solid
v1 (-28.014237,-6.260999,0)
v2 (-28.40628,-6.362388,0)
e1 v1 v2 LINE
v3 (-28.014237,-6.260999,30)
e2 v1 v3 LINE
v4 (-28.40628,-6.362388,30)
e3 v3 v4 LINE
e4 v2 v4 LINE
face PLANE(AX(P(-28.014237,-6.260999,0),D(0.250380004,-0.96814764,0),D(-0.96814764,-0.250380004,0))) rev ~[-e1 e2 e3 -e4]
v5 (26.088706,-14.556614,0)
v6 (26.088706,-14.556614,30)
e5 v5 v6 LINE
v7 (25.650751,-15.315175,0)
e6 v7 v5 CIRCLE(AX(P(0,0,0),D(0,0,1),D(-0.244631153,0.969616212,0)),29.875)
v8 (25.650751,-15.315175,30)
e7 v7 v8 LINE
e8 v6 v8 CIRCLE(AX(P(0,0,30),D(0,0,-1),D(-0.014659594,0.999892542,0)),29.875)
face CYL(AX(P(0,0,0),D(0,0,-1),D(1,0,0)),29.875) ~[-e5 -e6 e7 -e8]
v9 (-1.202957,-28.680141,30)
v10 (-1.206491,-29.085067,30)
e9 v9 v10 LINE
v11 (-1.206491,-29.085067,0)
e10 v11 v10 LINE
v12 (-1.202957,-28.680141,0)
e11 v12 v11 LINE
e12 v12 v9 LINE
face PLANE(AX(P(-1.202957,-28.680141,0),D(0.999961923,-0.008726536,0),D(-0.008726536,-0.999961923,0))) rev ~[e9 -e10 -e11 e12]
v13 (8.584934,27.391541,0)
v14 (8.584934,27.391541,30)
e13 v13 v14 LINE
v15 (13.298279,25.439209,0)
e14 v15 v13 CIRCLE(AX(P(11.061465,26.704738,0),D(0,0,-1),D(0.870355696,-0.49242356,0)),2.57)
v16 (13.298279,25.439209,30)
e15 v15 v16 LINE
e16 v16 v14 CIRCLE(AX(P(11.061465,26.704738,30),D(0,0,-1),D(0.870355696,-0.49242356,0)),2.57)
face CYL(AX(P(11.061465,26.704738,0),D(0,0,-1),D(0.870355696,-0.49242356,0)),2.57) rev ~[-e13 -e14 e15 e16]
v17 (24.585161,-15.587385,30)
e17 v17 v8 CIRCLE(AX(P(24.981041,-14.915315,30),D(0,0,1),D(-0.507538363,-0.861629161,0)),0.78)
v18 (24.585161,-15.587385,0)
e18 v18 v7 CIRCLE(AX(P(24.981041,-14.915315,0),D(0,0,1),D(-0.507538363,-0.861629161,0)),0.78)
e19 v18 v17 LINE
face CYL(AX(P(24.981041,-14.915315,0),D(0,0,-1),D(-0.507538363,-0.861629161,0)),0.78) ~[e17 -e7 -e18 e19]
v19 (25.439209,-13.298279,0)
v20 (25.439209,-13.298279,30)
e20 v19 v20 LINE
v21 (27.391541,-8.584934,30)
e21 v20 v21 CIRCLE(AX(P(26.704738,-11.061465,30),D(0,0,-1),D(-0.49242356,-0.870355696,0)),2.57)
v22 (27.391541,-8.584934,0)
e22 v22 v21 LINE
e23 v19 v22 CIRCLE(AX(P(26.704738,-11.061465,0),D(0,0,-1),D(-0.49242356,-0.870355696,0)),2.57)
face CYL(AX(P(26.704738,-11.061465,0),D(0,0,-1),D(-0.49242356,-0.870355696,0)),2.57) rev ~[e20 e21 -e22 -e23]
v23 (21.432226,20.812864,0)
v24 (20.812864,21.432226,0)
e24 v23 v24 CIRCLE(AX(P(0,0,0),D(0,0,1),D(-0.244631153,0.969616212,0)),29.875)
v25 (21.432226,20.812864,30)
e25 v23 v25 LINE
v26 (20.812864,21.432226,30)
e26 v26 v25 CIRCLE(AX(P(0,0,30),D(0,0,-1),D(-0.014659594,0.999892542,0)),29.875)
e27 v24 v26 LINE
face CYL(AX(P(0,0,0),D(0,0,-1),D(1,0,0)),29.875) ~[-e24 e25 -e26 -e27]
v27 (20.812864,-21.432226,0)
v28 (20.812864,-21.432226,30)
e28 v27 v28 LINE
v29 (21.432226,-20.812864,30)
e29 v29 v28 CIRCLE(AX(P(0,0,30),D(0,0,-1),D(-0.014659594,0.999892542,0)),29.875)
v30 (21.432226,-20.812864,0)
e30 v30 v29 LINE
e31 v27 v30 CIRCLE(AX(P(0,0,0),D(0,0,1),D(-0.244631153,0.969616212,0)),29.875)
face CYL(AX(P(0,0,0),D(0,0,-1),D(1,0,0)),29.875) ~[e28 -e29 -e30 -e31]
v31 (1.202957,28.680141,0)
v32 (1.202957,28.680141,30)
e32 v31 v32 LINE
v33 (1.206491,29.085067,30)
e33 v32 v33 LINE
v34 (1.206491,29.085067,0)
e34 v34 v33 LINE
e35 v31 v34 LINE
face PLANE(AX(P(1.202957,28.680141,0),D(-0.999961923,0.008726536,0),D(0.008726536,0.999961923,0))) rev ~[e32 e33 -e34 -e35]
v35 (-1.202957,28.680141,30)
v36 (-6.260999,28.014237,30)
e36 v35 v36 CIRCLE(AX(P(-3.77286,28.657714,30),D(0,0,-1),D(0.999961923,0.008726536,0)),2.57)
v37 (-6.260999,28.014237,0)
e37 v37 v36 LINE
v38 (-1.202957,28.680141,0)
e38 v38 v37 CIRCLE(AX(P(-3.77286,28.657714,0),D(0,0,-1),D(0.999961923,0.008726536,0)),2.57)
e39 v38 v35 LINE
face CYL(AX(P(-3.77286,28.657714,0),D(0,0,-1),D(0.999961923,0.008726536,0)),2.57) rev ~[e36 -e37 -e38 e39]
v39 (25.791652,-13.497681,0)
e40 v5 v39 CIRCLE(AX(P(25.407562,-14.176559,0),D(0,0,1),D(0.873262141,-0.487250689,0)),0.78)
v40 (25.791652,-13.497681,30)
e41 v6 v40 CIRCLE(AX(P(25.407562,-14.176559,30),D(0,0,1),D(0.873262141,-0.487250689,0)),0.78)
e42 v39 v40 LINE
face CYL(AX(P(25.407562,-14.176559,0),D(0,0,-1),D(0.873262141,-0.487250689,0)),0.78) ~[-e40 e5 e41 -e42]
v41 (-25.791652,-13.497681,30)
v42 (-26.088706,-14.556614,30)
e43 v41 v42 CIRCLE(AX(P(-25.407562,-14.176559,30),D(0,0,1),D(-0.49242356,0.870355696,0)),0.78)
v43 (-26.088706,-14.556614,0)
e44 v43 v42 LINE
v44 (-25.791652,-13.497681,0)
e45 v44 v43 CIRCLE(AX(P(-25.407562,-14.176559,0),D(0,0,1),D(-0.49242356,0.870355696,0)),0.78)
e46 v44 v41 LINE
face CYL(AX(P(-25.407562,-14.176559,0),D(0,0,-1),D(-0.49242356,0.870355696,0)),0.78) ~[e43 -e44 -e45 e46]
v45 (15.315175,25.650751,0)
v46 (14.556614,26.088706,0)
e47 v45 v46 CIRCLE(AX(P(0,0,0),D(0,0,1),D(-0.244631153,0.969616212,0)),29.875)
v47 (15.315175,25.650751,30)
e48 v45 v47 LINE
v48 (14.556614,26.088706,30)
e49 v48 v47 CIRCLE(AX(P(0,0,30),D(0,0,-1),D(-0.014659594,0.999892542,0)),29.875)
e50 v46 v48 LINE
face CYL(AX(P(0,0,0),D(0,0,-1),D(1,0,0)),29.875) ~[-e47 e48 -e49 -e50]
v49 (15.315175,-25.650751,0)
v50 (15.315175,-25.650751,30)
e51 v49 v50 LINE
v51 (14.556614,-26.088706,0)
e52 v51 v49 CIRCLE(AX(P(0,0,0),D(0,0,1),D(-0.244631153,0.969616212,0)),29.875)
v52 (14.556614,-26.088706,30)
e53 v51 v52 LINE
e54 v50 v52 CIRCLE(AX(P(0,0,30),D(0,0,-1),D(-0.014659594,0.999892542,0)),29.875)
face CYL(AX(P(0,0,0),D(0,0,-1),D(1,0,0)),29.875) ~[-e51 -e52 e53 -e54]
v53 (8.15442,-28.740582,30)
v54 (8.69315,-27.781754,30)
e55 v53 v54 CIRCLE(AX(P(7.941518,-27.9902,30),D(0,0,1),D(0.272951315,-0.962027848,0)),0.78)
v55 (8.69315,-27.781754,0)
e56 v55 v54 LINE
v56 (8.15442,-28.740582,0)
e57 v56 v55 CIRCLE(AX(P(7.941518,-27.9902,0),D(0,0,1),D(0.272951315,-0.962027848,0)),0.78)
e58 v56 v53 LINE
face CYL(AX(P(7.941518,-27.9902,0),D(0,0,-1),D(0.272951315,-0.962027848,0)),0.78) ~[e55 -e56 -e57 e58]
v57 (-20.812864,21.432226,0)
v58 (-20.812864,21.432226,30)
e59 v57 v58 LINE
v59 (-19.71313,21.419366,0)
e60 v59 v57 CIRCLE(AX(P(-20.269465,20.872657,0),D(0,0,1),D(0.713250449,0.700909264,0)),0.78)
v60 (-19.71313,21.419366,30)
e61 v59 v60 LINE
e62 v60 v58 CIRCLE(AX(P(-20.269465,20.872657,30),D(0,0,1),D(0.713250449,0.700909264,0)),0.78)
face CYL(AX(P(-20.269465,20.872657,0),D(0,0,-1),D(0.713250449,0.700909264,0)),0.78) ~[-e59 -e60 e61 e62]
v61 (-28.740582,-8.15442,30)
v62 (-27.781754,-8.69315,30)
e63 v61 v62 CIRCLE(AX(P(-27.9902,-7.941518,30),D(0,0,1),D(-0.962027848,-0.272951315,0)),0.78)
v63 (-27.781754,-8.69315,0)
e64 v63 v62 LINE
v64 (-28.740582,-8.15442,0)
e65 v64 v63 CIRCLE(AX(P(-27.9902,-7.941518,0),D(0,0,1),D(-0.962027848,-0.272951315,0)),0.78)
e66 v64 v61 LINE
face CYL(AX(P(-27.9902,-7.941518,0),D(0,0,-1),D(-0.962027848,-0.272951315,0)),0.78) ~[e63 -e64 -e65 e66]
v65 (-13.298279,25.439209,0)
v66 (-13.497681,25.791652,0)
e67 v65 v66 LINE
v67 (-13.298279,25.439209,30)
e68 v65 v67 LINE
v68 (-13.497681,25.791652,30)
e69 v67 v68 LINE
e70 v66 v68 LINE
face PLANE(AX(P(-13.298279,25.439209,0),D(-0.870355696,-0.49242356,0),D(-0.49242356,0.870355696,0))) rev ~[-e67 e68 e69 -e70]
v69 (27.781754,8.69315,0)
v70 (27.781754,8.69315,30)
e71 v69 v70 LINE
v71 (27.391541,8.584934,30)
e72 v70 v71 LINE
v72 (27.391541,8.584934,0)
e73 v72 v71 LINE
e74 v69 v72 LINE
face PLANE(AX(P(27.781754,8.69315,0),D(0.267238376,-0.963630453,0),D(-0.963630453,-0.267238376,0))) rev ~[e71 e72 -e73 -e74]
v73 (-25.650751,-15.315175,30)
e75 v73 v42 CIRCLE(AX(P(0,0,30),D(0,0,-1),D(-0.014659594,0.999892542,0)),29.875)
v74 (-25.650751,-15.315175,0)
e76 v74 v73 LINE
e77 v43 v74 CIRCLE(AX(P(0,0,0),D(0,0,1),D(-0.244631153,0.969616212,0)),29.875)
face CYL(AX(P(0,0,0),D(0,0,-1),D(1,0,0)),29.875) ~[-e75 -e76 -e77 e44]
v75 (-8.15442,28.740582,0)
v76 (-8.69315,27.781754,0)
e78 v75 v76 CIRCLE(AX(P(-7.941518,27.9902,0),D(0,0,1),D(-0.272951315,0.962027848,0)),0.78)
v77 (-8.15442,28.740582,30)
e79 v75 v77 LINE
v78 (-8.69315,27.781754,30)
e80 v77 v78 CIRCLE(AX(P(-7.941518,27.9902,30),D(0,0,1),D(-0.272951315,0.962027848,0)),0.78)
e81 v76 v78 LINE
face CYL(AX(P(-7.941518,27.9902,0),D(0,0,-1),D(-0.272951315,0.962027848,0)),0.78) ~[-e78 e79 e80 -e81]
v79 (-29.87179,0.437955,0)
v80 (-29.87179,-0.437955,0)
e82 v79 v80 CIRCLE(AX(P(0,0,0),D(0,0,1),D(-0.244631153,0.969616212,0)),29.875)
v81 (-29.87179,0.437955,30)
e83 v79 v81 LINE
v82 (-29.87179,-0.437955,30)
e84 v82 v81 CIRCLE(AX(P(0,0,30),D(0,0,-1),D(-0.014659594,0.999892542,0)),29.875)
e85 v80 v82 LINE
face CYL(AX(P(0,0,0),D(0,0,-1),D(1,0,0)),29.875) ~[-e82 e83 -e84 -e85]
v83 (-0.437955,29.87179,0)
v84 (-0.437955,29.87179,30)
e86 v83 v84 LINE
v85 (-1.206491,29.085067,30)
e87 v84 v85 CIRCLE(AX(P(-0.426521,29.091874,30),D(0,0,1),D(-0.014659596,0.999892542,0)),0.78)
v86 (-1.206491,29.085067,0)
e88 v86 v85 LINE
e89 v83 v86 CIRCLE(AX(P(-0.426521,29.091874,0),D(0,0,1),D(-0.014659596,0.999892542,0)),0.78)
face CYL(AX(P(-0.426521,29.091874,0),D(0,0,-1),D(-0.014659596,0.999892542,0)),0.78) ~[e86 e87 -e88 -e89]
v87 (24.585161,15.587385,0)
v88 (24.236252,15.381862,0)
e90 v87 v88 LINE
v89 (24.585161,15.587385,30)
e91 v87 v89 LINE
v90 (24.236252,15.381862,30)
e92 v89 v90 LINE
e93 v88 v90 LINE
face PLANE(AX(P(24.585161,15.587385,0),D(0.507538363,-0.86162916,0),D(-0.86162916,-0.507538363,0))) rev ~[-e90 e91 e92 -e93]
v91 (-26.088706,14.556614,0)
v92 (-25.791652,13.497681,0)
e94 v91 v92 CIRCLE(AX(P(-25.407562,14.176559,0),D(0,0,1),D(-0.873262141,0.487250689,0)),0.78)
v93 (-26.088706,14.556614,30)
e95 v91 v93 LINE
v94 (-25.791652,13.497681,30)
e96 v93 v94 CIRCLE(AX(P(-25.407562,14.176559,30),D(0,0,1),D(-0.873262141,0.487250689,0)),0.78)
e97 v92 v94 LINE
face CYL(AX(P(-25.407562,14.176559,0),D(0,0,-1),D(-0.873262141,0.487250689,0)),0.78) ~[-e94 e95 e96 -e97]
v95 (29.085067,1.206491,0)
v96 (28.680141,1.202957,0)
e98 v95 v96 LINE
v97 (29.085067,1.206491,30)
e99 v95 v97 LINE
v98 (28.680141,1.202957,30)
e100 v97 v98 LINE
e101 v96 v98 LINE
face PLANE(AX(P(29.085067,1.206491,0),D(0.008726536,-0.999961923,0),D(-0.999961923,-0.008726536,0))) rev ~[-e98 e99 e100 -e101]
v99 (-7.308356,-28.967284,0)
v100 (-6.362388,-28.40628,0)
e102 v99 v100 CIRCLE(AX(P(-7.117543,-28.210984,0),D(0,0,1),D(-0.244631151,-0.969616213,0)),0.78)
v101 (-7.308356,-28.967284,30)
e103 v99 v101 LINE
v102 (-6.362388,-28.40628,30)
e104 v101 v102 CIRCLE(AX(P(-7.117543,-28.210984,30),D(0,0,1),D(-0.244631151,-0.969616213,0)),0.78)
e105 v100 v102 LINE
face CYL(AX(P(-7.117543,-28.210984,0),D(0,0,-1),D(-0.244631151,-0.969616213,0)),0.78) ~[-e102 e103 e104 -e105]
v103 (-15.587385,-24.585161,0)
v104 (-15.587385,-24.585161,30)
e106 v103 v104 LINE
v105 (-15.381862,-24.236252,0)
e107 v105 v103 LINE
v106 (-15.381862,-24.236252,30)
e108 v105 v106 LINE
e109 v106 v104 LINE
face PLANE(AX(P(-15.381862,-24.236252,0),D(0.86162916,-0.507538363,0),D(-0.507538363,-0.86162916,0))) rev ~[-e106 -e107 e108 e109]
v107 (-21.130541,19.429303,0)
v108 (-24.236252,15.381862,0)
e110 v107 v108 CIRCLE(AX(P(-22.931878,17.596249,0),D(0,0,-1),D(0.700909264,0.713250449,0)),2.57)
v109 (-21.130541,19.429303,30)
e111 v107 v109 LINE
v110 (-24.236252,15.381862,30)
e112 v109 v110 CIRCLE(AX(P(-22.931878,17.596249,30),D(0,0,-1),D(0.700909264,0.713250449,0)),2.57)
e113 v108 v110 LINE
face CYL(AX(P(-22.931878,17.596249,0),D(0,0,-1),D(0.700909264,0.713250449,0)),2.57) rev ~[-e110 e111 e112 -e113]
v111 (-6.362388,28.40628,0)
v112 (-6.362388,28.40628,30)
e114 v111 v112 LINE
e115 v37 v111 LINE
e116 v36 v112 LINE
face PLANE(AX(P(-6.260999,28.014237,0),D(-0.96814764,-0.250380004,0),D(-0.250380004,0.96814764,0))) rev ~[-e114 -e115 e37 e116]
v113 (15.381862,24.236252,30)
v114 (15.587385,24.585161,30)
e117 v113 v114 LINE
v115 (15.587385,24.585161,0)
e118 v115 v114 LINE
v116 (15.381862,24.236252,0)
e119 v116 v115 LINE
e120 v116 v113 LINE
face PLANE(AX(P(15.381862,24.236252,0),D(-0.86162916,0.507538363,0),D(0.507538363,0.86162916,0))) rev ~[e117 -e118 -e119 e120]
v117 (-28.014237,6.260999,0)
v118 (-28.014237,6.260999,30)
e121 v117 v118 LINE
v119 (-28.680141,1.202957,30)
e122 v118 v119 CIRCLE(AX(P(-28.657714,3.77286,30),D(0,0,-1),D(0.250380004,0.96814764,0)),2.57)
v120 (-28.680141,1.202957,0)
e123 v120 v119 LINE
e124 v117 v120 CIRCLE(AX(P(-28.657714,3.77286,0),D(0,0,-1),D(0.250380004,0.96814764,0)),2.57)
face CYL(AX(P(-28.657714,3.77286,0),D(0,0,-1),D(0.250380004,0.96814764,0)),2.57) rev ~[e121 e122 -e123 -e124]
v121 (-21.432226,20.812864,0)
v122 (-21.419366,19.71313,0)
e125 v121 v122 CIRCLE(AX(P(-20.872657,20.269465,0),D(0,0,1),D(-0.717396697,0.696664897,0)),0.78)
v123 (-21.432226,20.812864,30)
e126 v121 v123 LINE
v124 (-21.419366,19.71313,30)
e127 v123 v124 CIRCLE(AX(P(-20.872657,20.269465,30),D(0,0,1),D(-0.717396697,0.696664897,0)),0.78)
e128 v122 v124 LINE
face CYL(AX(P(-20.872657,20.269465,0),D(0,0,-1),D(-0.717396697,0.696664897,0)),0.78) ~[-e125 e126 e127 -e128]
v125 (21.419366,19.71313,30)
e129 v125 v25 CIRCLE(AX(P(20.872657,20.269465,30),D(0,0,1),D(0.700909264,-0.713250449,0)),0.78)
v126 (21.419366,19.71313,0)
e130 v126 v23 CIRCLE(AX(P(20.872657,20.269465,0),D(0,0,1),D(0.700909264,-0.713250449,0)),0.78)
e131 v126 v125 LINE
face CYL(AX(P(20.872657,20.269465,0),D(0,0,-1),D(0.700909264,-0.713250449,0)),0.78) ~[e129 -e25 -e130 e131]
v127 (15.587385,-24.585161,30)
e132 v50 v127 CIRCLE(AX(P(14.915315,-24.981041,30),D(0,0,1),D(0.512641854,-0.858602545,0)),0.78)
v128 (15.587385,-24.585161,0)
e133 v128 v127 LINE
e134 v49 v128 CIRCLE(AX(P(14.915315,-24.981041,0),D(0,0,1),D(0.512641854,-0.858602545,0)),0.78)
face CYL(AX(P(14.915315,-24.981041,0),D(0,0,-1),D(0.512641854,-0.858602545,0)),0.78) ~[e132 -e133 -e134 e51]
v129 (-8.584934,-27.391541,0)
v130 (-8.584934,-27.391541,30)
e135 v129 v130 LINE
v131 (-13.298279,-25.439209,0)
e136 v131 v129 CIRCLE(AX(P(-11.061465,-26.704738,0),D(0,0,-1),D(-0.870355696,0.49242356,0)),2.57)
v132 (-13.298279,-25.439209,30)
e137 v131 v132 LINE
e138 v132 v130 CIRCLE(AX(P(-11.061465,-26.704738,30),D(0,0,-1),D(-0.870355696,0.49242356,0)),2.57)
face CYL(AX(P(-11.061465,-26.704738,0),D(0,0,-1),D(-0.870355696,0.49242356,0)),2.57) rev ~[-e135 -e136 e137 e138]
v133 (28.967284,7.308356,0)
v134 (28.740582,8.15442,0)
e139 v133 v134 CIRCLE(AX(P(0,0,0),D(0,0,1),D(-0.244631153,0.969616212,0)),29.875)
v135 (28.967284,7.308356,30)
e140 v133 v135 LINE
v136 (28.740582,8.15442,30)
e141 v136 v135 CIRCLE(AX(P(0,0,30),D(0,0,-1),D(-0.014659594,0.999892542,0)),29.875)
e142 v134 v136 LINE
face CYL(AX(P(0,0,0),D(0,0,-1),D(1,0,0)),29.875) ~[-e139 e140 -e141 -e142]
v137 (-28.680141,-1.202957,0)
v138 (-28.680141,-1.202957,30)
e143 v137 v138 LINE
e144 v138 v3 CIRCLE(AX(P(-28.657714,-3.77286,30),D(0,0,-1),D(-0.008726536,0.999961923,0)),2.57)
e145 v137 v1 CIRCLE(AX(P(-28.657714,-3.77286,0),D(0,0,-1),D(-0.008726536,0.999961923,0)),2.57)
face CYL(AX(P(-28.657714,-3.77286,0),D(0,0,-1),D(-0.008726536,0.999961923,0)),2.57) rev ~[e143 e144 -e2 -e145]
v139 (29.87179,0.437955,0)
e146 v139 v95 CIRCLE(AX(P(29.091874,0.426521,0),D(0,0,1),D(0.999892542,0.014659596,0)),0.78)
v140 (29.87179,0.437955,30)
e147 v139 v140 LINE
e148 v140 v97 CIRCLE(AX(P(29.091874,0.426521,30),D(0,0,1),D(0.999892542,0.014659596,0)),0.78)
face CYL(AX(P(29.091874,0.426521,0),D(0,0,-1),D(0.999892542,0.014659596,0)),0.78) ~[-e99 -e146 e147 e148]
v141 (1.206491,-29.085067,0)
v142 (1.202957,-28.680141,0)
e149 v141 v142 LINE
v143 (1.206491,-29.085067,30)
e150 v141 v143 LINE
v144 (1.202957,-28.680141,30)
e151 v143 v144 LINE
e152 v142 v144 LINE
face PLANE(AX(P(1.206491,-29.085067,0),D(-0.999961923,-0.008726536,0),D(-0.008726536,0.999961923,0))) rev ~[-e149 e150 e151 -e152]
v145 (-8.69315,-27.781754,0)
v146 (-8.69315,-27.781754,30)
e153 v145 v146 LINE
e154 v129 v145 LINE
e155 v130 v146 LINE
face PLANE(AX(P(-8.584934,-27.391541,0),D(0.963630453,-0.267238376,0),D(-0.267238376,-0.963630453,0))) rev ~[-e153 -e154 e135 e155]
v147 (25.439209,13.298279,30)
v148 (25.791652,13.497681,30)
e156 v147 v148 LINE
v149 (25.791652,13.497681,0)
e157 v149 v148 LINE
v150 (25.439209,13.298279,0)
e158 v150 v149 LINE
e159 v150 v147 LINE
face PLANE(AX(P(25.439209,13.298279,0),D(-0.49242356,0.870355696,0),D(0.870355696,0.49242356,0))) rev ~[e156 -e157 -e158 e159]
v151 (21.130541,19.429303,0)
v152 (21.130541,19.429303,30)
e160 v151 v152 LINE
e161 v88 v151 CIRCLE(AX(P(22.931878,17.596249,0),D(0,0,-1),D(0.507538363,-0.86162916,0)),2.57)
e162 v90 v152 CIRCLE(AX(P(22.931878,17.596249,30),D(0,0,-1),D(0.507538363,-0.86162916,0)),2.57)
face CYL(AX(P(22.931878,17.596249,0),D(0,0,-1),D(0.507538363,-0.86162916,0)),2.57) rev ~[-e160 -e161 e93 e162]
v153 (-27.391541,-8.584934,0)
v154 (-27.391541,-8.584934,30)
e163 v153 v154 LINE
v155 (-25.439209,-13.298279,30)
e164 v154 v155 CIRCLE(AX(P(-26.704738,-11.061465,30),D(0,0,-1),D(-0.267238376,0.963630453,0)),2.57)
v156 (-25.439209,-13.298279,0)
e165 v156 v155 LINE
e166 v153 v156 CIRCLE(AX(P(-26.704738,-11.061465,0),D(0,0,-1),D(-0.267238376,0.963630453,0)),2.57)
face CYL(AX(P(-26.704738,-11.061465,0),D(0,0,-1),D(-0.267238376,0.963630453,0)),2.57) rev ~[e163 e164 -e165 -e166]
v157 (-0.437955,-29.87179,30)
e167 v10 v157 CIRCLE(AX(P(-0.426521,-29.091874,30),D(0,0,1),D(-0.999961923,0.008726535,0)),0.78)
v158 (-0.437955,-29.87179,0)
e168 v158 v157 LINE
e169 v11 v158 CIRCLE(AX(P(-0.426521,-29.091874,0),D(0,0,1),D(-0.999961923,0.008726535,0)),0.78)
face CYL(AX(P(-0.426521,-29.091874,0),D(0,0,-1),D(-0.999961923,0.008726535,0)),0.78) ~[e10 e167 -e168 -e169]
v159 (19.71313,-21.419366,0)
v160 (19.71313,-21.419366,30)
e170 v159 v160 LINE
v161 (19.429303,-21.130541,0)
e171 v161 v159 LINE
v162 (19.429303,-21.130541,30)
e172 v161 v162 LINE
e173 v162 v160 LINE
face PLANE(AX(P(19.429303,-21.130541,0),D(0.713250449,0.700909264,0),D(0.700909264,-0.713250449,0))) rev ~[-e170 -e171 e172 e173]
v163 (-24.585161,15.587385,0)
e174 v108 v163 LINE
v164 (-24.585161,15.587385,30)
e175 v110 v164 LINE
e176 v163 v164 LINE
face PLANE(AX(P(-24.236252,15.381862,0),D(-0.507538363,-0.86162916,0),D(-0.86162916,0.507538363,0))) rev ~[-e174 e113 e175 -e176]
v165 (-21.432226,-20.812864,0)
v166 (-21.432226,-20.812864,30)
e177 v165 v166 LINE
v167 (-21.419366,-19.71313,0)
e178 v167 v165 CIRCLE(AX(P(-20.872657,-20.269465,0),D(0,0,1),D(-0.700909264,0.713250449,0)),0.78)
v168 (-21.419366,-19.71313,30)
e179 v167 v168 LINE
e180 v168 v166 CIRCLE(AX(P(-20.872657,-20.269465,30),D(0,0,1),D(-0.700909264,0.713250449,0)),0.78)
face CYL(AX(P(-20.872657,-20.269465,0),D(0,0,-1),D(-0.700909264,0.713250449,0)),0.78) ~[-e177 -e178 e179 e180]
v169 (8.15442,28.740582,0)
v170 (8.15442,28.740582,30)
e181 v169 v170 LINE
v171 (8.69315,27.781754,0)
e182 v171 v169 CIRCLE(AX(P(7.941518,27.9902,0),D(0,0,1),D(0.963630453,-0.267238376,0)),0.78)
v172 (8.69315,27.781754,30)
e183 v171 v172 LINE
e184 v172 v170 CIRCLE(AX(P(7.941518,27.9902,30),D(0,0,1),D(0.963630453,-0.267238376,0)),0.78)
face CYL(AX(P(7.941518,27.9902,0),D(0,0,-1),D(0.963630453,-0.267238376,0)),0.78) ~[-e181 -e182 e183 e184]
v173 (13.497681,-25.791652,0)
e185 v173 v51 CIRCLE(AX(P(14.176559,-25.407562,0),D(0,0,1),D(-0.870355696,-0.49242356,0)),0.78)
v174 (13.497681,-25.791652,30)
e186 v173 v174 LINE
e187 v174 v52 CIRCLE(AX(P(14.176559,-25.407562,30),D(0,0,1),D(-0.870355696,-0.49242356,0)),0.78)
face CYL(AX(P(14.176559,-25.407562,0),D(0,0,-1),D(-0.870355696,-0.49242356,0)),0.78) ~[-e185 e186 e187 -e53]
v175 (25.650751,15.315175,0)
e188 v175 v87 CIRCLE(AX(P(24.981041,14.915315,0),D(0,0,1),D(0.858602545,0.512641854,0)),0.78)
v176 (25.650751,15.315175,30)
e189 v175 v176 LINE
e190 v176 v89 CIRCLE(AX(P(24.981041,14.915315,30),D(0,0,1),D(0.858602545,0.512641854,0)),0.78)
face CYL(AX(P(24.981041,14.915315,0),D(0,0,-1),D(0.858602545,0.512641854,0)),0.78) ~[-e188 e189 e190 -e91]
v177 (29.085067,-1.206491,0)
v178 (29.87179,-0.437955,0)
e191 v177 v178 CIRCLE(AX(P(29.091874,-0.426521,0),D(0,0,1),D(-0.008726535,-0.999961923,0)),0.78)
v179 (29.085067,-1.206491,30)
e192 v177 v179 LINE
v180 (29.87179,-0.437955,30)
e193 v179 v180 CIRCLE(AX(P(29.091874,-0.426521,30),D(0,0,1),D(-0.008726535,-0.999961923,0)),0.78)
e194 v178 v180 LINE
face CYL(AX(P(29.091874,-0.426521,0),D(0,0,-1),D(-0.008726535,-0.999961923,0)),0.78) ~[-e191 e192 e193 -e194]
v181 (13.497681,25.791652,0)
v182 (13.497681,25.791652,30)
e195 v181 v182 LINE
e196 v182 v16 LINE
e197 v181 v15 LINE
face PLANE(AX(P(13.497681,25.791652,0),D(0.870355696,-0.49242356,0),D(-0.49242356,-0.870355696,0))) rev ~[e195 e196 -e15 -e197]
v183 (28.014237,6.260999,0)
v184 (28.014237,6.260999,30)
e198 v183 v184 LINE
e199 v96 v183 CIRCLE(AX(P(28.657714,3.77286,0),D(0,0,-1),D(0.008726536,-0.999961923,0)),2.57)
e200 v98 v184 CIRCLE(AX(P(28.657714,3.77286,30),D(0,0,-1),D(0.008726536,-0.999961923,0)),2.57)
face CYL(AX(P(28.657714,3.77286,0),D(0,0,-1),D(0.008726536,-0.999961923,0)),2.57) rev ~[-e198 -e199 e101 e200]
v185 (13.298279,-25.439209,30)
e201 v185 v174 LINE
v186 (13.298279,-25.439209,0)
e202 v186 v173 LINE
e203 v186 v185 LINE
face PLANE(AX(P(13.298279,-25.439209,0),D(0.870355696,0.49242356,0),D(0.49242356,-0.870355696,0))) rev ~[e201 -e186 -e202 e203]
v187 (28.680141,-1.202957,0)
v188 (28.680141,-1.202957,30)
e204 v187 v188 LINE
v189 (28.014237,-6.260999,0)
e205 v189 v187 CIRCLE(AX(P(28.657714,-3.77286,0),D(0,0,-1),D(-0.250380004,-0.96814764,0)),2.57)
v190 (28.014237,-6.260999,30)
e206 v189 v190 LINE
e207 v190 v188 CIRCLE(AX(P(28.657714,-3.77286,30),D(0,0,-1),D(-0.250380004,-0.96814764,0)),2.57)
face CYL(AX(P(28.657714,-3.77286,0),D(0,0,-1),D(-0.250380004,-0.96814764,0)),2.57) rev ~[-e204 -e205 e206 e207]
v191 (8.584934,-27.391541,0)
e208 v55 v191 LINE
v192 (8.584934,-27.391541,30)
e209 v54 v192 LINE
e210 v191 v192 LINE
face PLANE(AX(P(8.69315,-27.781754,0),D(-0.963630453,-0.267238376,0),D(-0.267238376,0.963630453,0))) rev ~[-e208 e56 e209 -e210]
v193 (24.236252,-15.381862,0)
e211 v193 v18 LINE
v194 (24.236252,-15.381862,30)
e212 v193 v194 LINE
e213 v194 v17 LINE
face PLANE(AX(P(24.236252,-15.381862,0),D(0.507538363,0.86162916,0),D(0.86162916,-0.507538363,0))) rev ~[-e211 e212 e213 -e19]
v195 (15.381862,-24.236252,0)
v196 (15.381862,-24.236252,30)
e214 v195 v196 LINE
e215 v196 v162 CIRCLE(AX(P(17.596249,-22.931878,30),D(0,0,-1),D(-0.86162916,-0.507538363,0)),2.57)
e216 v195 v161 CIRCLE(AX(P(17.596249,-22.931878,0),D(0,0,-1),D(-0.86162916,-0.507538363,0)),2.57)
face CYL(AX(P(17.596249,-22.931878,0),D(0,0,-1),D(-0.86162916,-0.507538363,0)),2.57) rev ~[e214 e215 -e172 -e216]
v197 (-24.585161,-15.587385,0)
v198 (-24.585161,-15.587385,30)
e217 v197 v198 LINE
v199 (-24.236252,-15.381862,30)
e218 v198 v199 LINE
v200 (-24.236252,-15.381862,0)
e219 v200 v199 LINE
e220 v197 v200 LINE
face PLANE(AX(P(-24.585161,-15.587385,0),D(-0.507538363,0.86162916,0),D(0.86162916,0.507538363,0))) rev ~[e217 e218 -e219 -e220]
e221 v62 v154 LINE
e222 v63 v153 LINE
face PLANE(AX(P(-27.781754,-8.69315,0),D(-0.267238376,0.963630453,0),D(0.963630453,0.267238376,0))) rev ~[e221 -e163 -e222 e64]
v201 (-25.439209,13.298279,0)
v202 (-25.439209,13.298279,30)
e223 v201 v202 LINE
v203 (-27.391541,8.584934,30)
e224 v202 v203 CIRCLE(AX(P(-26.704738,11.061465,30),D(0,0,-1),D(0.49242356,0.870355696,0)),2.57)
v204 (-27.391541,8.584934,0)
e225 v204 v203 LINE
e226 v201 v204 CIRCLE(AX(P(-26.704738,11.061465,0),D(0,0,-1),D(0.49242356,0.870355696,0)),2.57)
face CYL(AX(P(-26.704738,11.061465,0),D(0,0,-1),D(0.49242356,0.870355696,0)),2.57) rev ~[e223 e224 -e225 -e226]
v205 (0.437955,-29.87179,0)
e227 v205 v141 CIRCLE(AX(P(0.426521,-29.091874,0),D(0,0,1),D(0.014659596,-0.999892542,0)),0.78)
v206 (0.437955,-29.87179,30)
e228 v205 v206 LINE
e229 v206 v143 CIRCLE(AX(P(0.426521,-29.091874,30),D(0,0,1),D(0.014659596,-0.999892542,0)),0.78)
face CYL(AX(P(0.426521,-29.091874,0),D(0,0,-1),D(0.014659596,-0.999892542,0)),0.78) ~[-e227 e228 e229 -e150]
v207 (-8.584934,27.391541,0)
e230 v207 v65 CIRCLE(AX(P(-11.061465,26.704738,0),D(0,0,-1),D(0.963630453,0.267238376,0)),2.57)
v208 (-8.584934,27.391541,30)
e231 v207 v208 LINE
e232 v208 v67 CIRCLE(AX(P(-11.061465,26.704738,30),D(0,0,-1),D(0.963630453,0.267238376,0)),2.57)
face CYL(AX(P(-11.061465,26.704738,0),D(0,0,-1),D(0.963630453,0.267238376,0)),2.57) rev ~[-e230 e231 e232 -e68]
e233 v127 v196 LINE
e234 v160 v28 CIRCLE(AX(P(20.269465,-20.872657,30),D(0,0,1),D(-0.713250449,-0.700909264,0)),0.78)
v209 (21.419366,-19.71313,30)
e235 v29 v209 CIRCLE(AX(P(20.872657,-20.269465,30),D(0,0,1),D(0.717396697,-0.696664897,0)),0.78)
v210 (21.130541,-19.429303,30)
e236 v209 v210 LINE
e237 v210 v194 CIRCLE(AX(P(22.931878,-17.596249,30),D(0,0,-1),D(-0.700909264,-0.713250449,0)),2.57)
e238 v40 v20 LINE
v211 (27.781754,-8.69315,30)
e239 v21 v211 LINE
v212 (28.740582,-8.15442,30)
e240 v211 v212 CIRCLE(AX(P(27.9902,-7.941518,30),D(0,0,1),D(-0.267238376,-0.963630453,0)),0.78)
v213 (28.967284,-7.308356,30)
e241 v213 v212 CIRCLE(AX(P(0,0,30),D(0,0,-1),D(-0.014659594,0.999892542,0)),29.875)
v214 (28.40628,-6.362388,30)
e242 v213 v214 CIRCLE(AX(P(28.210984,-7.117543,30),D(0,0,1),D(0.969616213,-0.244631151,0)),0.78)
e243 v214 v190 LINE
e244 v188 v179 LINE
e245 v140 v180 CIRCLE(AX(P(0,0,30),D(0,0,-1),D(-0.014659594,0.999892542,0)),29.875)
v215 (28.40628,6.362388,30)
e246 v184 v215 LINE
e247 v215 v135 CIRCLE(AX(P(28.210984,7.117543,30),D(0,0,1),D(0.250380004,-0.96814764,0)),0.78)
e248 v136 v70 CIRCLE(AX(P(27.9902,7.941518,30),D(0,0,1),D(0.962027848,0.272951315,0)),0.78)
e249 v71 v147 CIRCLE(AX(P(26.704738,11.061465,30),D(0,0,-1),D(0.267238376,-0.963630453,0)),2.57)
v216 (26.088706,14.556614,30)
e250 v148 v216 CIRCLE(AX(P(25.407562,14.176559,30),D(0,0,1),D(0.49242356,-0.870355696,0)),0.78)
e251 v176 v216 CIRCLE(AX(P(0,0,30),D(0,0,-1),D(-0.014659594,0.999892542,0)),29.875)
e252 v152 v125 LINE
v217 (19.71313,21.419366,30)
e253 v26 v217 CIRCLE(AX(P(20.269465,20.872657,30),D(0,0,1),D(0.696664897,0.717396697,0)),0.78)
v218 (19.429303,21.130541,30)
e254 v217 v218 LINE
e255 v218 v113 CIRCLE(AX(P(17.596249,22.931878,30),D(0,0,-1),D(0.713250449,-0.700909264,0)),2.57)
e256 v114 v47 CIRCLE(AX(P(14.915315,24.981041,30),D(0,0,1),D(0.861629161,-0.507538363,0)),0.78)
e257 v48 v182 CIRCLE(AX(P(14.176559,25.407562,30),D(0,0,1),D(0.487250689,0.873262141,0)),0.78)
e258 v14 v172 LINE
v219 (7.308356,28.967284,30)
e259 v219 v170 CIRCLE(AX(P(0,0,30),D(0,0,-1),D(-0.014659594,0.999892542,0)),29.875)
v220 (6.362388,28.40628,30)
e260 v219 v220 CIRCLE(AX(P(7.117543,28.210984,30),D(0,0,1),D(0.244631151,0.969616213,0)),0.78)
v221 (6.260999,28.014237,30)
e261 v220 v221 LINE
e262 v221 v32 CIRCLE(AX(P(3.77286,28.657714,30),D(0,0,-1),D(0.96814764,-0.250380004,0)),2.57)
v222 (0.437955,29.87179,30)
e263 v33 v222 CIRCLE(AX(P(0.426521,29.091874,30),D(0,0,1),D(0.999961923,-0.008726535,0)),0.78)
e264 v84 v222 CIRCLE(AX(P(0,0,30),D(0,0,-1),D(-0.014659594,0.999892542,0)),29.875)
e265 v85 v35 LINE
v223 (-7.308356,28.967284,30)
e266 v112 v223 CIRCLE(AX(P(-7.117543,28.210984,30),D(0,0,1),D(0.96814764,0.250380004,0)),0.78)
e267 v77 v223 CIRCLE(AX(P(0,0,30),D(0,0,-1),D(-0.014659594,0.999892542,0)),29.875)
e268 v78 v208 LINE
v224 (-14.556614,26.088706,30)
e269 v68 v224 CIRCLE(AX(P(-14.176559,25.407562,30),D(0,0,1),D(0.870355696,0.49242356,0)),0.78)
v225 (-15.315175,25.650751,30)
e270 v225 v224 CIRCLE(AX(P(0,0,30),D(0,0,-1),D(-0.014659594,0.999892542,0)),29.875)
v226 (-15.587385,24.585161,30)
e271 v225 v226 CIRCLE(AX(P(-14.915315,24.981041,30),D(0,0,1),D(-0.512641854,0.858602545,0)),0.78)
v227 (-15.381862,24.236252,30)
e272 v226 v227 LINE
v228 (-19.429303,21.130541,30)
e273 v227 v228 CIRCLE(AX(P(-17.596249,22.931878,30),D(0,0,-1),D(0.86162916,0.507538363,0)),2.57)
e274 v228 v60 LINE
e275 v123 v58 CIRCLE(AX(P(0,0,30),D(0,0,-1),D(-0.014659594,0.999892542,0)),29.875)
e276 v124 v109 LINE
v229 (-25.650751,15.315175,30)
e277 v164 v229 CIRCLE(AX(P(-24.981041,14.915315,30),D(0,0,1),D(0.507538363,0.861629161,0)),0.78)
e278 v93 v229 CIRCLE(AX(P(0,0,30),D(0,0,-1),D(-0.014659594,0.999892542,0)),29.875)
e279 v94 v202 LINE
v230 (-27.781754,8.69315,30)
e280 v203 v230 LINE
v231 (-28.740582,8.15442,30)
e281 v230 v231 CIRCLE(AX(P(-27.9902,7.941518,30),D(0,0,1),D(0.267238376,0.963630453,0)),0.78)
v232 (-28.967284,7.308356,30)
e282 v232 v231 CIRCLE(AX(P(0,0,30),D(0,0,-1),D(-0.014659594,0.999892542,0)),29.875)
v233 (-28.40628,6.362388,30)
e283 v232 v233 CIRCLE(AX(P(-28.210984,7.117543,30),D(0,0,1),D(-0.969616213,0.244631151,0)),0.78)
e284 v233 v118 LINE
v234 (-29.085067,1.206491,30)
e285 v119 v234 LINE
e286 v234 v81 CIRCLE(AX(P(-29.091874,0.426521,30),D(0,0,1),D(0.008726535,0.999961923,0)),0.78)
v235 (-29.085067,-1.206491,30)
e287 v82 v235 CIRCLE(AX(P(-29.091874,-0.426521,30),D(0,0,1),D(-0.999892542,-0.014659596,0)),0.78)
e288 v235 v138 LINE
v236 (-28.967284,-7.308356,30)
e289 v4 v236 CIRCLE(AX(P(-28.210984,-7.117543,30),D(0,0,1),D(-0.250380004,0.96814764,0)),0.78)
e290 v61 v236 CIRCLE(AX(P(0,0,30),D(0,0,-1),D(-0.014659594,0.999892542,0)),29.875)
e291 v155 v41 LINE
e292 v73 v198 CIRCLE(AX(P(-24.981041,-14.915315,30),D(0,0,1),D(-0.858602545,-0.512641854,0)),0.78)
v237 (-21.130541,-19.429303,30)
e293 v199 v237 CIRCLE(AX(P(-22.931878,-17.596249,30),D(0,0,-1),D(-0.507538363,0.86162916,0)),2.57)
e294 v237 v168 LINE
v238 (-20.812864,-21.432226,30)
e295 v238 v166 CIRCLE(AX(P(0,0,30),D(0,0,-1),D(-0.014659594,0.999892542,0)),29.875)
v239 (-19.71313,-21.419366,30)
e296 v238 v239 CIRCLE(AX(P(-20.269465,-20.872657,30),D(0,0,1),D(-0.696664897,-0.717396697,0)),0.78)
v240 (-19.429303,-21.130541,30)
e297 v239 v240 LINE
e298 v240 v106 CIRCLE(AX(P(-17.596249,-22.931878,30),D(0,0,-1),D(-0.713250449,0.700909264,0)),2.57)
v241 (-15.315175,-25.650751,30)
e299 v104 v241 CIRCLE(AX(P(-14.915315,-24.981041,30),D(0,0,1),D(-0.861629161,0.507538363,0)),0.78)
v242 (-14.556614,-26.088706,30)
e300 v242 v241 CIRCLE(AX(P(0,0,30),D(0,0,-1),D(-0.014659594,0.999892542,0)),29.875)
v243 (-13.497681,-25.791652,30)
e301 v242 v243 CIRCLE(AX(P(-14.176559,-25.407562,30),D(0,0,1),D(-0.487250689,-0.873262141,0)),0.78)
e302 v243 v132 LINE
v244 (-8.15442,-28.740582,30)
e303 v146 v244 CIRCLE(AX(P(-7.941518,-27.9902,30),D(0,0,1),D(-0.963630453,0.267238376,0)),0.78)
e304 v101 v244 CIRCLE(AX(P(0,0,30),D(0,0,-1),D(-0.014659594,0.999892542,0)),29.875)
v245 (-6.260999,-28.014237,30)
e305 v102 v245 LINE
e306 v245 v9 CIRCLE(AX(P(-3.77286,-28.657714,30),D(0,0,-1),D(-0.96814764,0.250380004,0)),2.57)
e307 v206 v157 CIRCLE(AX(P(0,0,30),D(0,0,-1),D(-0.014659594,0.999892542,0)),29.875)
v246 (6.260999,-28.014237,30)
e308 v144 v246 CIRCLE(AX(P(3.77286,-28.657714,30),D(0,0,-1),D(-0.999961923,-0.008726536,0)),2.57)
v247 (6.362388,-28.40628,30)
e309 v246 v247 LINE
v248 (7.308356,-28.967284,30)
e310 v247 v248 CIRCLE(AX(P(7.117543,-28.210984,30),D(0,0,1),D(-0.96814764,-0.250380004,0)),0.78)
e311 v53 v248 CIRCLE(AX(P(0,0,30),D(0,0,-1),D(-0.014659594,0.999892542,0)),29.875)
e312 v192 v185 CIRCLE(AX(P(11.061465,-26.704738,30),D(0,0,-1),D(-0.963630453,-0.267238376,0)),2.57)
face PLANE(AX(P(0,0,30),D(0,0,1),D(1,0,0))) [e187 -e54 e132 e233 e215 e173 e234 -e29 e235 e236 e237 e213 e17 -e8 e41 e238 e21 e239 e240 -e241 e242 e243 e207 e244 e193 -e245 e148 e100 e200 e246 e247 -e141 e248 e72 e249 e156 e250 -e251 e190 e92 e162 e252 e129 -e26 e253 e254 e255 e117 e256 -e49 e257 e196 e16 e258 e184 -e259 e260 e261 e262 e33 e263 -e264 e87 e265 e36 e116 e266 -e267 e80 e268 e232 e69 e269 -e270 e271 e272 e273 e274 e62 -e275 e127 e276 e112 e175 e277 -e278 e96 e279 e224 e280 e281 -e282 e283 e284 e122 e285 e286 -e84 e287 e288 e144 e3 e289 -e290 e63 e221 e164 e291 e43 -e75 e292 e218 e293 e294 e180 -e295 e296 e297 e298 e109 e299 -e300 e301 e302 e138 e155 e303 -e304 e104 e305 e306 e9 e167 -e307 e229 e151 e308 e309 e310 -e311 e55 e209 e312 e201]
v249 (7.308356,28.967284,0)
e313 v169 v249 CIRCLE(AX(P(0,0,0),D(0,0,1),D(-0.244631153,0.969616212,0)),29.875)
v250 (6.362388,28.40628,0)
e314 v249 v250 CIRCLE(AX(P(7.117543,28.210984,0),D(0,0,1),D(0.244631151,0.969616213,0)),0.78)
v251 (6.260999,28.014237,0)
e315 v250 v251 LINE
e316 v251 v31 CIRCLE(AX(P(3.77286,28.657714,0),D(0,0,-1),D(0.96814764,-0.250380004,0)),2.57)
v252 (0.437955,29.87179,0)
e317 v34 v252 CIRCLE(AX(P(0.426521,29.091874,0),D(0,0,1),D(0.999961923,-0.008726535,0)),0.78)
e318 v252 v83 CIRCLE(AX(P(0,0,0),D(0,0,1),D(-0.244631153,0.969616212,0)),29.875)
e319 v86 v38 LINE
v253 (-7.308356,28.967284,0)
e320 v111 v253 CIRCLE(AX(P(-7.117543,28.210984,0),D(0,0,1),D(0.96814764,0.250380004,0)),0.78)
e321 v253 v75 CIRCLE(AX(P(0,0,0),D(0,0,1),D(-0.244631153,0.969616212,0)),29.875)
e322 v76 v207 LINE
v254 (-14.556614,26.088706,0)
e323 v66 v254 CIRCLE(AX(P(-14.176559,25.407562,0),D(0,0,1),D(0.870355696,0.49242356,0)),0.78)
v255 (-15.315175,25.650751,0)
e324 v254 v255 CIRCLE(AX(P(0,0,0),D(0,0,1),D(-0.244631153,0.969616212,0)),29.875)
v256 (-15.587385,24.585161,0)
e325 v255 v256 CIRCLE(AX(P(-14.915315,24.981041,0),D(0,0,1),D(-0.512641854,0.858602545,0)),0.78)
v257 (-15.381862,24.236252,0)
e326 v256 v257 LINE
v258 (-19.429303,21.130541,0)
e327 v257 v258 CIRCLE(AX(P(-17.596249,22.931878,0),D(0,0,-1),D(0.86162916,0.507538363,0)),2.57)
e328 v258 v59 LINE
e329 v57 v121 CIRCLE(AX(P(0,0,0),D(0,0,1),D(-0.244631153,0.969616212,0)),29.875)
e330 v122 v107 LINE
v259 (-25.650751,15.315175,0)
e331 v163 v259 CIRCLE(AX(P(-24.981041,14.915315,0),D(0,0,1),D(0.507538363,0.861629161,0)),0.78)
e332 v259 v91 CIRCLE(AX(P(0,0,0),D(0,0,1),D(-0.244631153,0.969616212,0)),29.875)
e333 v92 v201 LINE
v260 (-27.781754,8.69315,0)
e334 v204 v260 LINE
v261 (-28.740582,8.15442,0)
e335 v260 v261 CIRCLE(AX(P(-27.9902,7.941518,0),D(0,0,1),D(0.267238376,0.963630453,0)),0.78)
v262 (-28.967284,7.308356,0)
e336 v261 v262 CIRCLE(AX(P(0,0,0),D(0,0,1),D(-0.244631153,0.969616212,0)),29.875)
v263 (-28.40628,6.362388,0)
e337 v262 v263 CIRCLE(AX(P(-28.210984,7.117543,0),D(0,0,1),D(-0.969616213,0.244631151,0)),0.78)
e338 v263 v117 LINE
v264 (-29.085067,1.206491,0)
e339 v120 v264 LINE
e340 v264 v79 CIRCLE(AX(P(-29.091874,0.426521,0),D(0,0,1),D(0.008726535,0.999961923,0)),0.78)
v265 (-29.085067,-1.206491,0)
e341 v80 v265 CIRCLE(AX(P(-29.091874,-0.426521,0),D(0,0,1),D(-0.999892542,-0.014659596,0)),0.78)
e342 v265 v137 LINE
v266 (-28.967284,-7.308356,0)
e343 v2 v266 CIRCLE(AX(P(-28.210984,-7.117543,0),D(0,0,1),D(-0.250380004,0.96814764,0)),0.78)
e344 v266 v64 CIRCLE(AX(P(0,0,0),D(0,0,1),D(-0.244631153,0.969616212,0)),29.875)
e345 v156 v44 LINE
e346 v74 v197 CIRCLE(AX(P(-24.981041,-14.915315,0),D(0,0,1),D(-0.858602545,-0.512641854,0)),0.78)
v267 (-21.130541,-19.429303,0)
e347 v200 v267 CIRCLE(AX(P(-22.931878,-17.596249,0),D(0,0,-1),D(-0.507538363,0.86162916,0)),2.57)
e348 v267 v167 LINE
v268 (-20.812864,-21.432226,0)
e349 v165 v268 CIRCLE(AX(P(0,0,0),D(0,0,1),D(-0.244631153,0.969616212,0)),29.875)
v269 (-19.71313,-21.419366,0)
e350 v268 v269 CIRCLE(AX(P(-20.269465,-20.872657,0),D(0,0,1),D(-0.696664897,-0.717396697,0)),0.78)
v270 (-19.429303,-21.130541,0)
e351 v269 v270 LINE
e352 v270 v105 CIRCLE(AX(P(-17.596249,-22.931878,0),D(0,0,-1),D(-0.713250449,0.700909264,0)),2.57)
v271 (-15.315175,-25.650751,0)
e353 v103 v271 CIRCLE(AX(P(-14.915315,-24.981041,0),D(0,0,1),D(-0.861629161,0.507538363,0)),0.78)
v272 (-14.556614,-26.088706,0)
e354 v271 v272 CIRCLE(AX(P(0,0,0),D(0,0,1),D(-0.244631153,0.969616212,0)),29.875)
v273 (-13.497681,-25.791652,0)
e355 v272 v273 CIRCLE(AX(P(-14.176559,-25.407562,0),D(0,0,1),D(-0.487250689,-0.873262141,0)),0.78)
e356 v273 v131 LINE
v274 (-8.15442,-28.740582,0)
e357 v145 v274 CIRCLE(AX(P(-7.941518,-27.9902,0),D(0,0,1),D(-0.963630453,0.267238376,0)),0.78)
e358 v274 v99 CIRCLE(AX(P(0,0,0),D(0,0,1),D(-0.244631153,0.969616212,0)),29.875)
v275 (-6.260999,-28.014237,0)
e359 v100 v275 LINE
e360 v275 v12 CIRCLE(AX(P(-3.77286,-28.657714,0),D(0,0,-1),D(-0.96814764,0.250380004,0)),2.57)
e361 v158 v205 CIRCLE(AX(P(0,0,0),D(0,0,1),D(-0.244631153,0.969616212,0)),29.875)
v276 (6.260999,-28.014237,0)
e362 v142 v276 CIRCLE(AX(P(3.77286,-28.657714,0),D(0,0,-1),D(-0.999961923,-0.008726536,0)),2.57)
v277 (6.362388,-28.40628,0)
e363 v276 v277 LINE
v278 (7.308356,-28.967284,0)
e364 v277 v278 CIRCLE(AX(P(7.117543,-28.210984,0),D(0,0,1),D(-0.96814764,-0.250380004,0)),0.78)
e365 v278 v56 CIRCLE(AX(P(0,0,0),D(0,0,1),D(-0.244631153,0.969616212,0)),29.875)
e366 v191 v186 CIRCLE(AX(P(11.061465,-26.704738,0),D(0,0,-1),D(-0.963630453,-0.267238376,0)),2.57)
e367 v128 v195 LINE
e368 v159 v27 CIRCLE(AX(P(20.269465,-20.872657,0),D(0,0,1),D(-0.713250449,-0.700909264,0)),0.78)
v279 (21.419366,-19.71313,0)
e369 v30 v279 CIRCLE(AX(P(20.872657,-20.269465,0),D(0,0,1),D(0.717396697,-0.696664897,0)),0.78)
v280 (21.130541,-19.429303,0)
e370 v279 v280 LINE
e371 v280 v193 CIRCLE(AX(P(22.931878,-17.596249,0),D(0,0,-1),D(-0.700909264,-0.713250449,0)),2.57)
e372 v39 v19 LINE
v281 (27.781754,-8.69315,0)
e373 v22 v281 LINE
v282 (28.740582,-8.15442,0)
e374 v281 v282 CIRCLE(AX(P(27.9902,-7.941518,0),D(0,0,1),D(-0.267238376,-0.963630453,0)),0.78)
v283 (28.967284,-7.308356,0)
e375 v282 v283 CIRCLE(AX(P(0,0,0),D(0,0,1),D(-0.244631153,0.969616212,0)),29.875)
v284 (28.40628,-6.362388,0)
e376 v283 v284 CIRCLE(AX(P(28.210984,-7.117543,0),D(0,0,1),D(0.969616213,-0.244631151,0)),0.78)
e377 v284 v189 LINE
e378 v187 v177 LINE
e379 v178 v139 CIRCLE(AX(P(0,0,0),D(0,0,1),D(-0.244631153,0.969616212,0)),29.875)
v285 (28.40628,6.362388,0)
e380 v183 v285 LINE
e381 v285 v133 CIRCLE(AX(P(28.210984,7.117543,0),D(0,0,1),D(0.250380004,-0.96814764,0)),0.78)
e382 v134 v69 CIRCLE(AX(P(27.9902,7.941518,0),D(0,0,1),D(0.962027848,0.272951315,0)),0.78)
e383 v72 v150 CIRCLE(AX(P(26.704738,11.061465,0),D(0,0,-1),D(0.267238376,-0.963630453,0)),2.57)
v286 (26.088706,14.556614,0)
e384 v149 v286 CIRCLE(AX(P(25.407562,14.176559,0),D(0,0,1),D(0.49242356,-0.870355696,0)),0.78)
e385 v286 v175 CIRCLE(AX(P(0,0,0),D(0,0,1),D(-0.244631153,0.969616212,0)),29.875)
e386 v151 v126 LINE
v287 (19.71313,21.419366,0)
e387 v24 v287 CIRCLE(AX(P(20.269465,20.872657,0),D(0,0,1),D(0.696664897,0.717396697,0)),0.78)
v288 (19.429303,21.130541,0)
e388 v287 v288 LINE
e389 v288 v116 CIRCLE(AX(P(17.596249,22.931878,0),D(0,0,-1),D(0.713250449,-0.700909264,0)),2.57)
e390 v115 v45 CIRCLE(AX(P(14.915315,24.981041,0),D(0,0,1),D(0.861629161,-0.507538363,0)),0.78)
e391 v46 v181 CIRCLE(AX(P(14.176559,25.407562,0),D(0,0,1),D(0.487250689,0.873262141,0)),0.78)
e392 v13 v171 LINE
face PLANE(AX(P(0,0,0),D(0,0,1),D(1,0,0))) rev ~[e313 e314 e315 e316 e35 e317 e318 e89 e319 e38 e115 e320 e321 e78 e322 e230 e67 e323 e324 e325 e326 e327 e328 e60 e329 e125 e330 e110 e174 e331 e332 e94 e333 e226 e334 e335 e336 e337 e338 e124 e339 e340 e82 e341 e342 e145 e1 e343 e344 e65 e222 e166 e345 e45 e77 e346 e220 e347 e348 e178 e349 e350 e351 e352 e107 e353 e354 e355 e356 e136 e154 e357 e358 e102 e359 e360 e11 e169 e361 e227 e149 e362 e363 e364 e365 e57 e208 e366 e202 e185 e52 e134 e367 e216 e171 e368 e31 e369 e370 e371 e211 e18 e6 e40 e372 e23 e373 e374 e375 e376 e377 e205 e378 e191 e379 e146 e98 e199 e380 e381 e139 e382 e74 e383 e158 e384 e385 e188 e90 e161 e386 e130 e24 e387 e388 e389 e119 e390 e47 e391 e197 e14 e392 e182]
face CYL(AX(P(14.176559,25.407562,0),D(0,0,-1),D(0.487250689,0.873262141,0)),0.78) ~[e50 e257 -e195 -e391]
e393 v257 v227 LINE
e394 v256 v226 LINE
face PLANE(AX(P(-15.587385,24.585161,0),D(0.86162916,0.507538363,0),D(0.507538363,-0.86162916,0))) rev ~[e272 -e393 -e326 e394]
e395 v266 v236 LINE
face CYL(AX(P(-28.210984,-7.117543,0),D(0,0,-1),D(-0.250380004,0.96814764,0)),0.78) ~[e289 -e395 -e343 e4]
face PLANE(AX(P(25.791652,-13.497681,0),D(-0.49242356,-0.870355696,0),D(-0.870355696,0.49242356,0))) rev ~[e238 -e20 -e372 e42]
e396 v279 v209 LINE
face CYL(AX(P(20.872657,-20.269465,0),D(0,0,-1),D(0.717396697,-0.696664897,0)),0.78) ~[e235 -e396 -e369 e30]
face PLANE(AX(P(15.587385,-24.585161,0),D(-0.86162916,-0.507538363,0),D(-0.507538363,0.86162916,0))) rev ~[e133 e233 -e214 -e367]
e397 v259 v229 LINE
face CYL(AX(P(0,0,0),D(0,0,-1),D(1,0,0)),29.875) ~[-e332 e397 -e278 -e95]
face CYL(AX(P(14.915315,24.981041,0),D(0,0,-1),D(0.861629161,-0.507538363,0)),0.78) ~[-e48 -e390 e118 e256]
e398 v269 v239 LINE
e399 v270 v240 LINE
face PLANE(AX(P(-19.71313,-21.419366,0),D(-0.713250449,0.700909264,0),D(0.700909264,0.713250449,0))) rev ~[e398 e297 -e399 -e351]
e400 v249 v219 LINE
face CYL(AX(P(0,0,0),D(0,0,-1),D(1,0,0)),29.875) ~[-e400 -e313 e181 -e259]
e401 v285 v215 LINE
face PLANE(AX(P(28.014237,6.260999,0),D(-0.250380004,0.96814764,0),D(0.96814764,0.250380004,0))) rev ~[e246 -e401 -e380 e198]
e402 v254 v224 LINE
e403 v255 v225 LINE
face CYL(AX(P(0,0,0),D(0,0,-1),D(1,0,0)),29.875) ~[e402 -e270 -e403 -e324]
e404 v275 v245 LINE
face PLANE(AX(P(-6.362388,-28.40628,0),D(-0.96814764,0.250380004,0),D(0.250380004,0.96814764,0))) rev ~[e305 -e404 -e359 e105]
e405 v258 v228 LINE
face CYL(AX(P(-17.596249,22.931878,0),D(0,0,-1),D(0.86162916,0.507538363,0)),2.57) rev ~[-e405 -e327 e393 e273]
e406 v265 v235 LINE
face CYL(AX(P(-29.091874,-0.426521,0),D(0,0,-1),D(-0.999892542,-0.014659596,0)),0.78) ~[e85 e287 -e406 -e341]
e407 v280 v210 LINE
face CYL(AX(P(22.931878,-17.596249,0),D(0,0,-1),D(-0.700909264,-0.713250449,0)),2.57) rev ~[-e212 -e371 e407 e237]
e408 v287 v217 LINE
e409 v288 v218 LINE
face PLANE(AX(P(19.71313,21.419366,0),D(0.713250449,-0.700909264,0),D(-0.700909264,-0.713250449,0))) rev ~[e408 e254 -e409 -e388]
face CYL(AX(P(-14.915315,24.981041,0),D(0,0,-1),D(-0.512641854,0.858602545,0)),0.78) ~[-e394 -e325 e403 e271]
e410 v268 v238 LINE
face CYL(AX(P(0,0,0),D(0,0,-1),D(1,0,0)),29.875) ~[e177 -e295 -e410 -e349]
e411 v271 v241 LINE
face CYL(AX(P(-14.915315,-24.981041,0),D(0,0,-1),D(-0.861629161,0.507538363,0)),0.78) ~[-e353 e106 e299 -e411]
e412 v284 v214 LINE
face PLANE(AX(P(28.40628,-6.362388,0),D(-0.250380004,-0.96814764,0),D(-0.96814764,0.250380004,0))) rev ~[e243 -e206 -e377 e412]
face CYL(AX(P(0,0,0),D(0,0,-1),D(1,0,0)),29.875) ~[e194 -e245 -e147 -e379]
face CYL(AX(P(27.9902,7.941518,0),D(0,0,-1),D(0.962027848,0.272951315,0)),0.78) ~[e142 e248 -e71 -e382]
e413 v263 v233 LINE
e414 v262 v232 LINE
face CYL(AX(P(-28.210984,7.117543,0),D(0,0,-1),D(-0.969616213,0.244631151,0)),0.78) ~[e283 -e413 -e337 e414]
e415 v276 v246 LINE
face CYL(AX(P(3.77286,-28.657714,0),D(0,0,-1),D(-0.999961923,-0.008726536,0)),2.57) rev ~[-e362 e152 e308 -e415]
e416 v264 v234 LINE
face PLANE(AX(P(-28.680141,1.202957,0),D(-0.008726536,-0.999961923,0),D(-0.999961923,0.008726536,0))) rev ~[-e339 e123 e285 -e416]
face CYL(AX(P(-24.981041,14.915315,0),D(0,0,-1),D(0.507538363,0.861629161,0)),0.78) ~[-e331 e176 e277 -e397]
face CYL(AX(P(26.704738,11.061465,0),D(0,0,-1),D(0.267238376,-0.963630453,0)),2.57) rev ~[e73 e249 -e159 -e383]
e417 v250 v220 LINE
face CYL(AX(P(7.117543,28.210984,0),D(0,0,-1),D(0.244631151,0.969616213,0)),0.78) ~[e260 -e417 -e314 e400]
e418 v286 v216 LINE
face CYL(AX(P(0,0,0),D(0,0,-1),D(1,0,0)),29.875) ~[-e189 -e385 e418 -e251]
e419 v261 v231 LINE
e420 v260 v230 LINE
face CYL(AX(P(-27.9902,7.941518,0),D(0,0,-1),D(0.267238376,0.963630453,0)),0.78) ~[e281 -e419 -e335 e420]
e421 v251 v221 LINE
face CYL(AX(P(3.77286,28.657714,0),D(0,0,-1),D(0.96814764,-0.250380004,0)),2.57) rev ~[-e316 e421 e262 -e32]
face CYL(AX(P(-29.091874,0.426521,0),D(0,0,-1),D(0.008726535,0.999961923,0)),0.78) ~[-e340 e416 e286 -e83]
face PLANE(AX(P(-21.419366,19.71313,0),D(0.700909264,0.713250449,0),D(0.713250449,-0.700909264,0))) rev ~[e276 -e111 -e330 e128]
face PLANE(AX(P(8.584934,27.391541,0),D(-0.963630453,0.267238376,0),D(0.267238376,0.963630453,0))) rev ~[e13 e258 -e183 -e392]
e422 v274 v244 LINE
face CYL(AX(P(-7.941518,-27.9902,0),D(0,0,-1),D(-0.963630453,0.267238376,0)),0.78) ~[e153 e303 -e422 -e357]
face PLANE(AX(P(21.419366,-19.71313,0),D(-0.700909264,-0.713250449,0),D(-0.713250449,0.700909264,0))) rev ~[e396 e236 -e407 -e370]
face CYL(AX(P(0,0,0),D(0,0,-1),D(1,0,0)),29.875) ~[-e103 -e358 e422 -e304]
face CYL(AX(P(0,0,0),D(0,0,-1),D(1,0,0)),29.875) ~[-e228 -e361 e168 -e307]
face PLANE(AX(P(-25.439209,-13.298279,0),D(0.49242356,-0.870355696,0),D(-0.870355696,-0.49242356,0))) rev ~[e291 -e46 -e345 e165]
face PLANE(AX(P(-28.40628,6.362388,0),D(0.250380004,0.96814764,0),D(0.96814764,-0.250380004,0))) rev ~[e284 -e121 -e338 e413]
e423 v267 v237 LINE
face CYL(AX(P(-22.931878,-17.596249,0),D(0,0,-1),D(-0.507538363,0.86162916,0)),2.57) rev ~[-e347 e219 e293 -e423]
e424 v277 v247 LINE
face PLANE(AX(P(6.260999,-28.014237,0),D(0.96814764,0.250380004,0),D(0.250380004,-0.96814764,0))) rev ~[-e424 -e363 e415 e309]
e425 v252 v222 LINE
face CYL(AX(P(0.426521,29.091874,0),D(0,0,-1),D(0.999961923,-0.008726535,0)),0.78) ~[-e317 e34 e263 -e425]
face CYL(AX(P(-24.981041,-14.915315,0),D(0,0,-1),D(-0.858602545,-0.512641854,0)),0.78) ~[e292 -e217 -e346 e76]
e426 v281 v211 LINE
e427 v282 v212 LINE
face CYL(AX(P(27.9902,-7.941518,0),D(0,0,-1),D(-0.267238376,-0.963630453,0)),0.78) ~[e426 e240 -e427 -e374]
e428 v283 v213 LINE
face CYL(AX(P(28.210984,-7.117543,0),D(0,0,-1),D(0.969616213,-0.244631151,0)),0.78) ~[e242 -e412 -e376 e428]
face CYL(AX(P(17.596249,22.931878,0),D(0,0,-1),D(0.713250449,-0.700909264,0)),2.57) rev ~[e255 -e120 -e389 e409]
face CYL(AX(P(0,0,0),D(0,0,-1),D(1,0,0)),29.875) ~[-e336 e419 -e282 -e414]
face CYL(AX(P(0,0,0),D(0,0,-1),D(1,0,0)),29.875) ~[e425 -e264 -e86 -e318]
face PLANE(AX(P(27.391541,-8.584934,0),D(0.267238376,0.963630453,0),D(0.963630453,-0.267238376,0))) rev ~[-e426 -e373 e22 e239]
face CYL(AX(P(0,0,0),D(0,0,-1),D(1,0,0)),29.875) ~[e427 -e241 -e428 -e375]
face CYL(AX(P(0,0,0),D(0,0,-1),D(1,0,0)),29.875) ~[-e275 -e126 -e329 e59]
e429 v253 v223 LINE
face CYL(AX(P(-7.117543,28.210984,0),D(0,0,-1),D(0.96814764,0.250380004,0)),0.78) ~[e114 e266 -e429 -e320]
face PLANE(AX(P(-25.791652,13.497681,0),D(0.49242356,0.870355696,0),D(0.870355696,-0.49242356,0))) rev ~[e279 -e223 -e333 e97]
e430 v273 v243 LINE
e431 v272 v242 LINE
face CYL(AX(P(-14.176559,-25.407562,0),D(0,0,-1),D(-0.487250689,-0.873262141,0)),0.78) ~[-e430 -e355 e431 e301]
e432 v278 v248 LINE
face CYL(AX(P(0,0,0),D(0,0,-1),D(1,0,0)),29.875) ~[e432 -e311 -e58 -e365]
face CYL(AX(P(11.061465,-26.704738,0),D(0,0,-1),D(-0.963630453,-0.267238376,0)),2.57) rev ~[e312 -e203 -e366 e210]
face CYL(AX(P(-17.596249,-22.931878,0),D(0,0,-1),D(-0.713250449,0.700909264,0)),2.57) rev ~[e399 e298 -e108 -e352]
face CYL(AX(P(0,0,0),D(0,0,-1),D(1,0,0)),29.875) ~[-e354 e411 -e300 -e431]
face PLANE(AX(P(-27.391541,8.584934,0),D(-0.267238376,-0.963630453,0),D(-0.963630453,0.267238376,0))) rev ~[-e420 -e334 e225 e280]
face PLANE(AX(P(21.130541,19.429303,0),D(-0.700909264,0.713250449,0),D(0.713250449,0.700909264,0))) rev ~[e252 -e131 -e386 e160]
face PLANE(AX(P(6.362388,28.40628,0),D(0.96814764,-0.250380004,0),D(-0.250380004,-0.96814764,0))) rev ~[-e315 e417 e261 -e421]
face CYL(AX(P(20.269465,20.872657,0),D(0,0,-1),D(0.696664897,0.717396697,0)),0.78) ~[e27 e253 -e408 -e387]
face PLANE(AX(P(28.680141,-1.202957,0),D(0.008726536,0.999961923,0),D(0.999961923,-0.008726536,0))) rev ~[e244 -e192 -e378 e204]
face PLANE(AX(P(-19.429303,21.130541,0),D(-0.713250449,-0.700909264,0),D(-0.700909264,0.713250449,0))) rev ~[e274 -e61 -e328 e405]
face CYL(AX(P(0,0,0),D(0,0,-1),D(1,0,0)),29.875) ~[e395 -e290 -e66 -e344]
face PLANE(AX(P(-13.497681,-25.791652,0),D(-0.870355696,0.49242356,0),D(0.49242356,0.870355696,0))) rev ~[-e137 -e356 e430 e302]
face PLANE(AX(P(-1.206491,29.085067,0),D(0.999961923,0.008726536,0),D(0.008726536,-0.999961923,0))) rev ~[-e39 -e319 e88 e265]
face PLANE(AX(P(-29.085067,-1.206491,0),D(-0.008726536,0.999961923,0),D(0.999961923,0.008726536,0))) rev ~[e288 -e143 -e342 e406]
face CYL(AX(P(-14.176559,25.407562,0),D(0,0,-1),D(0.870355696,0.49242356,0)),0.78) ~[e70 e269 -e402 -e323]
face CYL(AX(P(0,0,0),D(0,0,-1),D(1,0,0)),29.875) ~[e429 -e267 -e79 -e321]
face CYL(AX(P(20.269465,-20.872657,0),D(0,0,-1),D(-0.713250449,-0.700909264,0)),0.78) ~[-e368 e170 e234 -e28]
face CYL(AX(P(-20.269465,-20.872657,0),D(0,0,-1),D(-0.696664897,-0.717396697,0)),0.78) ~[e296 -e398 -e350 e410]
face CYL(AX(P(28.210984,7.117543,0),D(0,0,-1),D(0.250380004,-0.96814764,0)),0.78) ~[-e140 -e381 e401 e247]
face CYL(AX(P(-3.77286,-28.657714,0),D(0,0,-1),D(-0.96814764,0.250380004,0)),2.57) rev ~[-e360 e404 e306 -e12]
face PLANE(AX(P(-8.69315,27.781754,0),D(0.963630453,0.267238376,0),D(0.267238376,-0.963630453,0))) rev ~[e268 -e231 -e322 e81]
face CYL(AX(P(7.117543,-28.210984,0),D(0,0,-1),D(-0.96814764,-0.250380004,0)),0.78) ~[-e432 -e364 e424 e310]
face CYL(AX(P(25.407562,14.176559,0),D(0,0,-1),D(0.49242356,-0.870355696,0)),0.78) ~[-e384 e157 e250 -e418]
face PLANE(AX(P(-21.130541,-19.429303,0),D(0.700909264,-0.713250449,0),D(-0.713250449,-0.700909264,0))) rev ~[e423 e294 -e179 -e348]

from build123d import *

# Parameters (mm, degrees)
SKETCH2_R         = 29.875
EXTRUDE1_DEPTH    = 30
EXTRUDE2_DEPTH    = 30
CIRPATTERN1_COUNT = 24


with BuildPart() as part:
    # Sketch2 → Extrude1 (new body)
    with BuildSketch(Plane.XY):
        Circle(SKETCH2_R)
    extrude(amount=EXTRUDE1_DEPTH)

    # Sketch1 → Extrude2 (cut)
    with BuildSketch(Plane.XY):
        with BuildLine():
            Line((-1.206491179, 29.085066823), (-1.202957444, 28.680140914))
            ThreePointArc((-1.202957444, 28.680140914), (-3.437407272, 26.109700424), (-6.260999022, 28.014237108))
            Line((-6.260999022, 28.014237108), (-6.362388233, 28.406280098))
            ThreePointArc((-6.362388233, 28.406280098), (-6.719671358, 28.881877013), (-7.308355692, 28.967284341))
            ThreePointArc((-7.308355692, 28.967284341), (-3.899469993, 29.619415234), (-0.437955362, 29.871789704))
            ThreePointArc((-0.437955362, 29.871789704), (-0.98447572, 29.636929843), (-1.206491179, 29.085066823))
        make_face()
    extrude2 = extrude(amount=EXTRUDE2_DEPTH, mode=Mode.SUBTRACT)

    # CirPattern1: Extrude2 ×24 about axis
    cirpattern1_axis = Axis((0, 0, 0), (0, 0, 1))
    for i in range(1, CIRPATTERN1_COUNT):
        add(extrude2.rotate(cirpattern1_axis, i * 360 / CIRPATTERN1_COUNT), mode=Mode.SUBTRACT)


solid = part.part
